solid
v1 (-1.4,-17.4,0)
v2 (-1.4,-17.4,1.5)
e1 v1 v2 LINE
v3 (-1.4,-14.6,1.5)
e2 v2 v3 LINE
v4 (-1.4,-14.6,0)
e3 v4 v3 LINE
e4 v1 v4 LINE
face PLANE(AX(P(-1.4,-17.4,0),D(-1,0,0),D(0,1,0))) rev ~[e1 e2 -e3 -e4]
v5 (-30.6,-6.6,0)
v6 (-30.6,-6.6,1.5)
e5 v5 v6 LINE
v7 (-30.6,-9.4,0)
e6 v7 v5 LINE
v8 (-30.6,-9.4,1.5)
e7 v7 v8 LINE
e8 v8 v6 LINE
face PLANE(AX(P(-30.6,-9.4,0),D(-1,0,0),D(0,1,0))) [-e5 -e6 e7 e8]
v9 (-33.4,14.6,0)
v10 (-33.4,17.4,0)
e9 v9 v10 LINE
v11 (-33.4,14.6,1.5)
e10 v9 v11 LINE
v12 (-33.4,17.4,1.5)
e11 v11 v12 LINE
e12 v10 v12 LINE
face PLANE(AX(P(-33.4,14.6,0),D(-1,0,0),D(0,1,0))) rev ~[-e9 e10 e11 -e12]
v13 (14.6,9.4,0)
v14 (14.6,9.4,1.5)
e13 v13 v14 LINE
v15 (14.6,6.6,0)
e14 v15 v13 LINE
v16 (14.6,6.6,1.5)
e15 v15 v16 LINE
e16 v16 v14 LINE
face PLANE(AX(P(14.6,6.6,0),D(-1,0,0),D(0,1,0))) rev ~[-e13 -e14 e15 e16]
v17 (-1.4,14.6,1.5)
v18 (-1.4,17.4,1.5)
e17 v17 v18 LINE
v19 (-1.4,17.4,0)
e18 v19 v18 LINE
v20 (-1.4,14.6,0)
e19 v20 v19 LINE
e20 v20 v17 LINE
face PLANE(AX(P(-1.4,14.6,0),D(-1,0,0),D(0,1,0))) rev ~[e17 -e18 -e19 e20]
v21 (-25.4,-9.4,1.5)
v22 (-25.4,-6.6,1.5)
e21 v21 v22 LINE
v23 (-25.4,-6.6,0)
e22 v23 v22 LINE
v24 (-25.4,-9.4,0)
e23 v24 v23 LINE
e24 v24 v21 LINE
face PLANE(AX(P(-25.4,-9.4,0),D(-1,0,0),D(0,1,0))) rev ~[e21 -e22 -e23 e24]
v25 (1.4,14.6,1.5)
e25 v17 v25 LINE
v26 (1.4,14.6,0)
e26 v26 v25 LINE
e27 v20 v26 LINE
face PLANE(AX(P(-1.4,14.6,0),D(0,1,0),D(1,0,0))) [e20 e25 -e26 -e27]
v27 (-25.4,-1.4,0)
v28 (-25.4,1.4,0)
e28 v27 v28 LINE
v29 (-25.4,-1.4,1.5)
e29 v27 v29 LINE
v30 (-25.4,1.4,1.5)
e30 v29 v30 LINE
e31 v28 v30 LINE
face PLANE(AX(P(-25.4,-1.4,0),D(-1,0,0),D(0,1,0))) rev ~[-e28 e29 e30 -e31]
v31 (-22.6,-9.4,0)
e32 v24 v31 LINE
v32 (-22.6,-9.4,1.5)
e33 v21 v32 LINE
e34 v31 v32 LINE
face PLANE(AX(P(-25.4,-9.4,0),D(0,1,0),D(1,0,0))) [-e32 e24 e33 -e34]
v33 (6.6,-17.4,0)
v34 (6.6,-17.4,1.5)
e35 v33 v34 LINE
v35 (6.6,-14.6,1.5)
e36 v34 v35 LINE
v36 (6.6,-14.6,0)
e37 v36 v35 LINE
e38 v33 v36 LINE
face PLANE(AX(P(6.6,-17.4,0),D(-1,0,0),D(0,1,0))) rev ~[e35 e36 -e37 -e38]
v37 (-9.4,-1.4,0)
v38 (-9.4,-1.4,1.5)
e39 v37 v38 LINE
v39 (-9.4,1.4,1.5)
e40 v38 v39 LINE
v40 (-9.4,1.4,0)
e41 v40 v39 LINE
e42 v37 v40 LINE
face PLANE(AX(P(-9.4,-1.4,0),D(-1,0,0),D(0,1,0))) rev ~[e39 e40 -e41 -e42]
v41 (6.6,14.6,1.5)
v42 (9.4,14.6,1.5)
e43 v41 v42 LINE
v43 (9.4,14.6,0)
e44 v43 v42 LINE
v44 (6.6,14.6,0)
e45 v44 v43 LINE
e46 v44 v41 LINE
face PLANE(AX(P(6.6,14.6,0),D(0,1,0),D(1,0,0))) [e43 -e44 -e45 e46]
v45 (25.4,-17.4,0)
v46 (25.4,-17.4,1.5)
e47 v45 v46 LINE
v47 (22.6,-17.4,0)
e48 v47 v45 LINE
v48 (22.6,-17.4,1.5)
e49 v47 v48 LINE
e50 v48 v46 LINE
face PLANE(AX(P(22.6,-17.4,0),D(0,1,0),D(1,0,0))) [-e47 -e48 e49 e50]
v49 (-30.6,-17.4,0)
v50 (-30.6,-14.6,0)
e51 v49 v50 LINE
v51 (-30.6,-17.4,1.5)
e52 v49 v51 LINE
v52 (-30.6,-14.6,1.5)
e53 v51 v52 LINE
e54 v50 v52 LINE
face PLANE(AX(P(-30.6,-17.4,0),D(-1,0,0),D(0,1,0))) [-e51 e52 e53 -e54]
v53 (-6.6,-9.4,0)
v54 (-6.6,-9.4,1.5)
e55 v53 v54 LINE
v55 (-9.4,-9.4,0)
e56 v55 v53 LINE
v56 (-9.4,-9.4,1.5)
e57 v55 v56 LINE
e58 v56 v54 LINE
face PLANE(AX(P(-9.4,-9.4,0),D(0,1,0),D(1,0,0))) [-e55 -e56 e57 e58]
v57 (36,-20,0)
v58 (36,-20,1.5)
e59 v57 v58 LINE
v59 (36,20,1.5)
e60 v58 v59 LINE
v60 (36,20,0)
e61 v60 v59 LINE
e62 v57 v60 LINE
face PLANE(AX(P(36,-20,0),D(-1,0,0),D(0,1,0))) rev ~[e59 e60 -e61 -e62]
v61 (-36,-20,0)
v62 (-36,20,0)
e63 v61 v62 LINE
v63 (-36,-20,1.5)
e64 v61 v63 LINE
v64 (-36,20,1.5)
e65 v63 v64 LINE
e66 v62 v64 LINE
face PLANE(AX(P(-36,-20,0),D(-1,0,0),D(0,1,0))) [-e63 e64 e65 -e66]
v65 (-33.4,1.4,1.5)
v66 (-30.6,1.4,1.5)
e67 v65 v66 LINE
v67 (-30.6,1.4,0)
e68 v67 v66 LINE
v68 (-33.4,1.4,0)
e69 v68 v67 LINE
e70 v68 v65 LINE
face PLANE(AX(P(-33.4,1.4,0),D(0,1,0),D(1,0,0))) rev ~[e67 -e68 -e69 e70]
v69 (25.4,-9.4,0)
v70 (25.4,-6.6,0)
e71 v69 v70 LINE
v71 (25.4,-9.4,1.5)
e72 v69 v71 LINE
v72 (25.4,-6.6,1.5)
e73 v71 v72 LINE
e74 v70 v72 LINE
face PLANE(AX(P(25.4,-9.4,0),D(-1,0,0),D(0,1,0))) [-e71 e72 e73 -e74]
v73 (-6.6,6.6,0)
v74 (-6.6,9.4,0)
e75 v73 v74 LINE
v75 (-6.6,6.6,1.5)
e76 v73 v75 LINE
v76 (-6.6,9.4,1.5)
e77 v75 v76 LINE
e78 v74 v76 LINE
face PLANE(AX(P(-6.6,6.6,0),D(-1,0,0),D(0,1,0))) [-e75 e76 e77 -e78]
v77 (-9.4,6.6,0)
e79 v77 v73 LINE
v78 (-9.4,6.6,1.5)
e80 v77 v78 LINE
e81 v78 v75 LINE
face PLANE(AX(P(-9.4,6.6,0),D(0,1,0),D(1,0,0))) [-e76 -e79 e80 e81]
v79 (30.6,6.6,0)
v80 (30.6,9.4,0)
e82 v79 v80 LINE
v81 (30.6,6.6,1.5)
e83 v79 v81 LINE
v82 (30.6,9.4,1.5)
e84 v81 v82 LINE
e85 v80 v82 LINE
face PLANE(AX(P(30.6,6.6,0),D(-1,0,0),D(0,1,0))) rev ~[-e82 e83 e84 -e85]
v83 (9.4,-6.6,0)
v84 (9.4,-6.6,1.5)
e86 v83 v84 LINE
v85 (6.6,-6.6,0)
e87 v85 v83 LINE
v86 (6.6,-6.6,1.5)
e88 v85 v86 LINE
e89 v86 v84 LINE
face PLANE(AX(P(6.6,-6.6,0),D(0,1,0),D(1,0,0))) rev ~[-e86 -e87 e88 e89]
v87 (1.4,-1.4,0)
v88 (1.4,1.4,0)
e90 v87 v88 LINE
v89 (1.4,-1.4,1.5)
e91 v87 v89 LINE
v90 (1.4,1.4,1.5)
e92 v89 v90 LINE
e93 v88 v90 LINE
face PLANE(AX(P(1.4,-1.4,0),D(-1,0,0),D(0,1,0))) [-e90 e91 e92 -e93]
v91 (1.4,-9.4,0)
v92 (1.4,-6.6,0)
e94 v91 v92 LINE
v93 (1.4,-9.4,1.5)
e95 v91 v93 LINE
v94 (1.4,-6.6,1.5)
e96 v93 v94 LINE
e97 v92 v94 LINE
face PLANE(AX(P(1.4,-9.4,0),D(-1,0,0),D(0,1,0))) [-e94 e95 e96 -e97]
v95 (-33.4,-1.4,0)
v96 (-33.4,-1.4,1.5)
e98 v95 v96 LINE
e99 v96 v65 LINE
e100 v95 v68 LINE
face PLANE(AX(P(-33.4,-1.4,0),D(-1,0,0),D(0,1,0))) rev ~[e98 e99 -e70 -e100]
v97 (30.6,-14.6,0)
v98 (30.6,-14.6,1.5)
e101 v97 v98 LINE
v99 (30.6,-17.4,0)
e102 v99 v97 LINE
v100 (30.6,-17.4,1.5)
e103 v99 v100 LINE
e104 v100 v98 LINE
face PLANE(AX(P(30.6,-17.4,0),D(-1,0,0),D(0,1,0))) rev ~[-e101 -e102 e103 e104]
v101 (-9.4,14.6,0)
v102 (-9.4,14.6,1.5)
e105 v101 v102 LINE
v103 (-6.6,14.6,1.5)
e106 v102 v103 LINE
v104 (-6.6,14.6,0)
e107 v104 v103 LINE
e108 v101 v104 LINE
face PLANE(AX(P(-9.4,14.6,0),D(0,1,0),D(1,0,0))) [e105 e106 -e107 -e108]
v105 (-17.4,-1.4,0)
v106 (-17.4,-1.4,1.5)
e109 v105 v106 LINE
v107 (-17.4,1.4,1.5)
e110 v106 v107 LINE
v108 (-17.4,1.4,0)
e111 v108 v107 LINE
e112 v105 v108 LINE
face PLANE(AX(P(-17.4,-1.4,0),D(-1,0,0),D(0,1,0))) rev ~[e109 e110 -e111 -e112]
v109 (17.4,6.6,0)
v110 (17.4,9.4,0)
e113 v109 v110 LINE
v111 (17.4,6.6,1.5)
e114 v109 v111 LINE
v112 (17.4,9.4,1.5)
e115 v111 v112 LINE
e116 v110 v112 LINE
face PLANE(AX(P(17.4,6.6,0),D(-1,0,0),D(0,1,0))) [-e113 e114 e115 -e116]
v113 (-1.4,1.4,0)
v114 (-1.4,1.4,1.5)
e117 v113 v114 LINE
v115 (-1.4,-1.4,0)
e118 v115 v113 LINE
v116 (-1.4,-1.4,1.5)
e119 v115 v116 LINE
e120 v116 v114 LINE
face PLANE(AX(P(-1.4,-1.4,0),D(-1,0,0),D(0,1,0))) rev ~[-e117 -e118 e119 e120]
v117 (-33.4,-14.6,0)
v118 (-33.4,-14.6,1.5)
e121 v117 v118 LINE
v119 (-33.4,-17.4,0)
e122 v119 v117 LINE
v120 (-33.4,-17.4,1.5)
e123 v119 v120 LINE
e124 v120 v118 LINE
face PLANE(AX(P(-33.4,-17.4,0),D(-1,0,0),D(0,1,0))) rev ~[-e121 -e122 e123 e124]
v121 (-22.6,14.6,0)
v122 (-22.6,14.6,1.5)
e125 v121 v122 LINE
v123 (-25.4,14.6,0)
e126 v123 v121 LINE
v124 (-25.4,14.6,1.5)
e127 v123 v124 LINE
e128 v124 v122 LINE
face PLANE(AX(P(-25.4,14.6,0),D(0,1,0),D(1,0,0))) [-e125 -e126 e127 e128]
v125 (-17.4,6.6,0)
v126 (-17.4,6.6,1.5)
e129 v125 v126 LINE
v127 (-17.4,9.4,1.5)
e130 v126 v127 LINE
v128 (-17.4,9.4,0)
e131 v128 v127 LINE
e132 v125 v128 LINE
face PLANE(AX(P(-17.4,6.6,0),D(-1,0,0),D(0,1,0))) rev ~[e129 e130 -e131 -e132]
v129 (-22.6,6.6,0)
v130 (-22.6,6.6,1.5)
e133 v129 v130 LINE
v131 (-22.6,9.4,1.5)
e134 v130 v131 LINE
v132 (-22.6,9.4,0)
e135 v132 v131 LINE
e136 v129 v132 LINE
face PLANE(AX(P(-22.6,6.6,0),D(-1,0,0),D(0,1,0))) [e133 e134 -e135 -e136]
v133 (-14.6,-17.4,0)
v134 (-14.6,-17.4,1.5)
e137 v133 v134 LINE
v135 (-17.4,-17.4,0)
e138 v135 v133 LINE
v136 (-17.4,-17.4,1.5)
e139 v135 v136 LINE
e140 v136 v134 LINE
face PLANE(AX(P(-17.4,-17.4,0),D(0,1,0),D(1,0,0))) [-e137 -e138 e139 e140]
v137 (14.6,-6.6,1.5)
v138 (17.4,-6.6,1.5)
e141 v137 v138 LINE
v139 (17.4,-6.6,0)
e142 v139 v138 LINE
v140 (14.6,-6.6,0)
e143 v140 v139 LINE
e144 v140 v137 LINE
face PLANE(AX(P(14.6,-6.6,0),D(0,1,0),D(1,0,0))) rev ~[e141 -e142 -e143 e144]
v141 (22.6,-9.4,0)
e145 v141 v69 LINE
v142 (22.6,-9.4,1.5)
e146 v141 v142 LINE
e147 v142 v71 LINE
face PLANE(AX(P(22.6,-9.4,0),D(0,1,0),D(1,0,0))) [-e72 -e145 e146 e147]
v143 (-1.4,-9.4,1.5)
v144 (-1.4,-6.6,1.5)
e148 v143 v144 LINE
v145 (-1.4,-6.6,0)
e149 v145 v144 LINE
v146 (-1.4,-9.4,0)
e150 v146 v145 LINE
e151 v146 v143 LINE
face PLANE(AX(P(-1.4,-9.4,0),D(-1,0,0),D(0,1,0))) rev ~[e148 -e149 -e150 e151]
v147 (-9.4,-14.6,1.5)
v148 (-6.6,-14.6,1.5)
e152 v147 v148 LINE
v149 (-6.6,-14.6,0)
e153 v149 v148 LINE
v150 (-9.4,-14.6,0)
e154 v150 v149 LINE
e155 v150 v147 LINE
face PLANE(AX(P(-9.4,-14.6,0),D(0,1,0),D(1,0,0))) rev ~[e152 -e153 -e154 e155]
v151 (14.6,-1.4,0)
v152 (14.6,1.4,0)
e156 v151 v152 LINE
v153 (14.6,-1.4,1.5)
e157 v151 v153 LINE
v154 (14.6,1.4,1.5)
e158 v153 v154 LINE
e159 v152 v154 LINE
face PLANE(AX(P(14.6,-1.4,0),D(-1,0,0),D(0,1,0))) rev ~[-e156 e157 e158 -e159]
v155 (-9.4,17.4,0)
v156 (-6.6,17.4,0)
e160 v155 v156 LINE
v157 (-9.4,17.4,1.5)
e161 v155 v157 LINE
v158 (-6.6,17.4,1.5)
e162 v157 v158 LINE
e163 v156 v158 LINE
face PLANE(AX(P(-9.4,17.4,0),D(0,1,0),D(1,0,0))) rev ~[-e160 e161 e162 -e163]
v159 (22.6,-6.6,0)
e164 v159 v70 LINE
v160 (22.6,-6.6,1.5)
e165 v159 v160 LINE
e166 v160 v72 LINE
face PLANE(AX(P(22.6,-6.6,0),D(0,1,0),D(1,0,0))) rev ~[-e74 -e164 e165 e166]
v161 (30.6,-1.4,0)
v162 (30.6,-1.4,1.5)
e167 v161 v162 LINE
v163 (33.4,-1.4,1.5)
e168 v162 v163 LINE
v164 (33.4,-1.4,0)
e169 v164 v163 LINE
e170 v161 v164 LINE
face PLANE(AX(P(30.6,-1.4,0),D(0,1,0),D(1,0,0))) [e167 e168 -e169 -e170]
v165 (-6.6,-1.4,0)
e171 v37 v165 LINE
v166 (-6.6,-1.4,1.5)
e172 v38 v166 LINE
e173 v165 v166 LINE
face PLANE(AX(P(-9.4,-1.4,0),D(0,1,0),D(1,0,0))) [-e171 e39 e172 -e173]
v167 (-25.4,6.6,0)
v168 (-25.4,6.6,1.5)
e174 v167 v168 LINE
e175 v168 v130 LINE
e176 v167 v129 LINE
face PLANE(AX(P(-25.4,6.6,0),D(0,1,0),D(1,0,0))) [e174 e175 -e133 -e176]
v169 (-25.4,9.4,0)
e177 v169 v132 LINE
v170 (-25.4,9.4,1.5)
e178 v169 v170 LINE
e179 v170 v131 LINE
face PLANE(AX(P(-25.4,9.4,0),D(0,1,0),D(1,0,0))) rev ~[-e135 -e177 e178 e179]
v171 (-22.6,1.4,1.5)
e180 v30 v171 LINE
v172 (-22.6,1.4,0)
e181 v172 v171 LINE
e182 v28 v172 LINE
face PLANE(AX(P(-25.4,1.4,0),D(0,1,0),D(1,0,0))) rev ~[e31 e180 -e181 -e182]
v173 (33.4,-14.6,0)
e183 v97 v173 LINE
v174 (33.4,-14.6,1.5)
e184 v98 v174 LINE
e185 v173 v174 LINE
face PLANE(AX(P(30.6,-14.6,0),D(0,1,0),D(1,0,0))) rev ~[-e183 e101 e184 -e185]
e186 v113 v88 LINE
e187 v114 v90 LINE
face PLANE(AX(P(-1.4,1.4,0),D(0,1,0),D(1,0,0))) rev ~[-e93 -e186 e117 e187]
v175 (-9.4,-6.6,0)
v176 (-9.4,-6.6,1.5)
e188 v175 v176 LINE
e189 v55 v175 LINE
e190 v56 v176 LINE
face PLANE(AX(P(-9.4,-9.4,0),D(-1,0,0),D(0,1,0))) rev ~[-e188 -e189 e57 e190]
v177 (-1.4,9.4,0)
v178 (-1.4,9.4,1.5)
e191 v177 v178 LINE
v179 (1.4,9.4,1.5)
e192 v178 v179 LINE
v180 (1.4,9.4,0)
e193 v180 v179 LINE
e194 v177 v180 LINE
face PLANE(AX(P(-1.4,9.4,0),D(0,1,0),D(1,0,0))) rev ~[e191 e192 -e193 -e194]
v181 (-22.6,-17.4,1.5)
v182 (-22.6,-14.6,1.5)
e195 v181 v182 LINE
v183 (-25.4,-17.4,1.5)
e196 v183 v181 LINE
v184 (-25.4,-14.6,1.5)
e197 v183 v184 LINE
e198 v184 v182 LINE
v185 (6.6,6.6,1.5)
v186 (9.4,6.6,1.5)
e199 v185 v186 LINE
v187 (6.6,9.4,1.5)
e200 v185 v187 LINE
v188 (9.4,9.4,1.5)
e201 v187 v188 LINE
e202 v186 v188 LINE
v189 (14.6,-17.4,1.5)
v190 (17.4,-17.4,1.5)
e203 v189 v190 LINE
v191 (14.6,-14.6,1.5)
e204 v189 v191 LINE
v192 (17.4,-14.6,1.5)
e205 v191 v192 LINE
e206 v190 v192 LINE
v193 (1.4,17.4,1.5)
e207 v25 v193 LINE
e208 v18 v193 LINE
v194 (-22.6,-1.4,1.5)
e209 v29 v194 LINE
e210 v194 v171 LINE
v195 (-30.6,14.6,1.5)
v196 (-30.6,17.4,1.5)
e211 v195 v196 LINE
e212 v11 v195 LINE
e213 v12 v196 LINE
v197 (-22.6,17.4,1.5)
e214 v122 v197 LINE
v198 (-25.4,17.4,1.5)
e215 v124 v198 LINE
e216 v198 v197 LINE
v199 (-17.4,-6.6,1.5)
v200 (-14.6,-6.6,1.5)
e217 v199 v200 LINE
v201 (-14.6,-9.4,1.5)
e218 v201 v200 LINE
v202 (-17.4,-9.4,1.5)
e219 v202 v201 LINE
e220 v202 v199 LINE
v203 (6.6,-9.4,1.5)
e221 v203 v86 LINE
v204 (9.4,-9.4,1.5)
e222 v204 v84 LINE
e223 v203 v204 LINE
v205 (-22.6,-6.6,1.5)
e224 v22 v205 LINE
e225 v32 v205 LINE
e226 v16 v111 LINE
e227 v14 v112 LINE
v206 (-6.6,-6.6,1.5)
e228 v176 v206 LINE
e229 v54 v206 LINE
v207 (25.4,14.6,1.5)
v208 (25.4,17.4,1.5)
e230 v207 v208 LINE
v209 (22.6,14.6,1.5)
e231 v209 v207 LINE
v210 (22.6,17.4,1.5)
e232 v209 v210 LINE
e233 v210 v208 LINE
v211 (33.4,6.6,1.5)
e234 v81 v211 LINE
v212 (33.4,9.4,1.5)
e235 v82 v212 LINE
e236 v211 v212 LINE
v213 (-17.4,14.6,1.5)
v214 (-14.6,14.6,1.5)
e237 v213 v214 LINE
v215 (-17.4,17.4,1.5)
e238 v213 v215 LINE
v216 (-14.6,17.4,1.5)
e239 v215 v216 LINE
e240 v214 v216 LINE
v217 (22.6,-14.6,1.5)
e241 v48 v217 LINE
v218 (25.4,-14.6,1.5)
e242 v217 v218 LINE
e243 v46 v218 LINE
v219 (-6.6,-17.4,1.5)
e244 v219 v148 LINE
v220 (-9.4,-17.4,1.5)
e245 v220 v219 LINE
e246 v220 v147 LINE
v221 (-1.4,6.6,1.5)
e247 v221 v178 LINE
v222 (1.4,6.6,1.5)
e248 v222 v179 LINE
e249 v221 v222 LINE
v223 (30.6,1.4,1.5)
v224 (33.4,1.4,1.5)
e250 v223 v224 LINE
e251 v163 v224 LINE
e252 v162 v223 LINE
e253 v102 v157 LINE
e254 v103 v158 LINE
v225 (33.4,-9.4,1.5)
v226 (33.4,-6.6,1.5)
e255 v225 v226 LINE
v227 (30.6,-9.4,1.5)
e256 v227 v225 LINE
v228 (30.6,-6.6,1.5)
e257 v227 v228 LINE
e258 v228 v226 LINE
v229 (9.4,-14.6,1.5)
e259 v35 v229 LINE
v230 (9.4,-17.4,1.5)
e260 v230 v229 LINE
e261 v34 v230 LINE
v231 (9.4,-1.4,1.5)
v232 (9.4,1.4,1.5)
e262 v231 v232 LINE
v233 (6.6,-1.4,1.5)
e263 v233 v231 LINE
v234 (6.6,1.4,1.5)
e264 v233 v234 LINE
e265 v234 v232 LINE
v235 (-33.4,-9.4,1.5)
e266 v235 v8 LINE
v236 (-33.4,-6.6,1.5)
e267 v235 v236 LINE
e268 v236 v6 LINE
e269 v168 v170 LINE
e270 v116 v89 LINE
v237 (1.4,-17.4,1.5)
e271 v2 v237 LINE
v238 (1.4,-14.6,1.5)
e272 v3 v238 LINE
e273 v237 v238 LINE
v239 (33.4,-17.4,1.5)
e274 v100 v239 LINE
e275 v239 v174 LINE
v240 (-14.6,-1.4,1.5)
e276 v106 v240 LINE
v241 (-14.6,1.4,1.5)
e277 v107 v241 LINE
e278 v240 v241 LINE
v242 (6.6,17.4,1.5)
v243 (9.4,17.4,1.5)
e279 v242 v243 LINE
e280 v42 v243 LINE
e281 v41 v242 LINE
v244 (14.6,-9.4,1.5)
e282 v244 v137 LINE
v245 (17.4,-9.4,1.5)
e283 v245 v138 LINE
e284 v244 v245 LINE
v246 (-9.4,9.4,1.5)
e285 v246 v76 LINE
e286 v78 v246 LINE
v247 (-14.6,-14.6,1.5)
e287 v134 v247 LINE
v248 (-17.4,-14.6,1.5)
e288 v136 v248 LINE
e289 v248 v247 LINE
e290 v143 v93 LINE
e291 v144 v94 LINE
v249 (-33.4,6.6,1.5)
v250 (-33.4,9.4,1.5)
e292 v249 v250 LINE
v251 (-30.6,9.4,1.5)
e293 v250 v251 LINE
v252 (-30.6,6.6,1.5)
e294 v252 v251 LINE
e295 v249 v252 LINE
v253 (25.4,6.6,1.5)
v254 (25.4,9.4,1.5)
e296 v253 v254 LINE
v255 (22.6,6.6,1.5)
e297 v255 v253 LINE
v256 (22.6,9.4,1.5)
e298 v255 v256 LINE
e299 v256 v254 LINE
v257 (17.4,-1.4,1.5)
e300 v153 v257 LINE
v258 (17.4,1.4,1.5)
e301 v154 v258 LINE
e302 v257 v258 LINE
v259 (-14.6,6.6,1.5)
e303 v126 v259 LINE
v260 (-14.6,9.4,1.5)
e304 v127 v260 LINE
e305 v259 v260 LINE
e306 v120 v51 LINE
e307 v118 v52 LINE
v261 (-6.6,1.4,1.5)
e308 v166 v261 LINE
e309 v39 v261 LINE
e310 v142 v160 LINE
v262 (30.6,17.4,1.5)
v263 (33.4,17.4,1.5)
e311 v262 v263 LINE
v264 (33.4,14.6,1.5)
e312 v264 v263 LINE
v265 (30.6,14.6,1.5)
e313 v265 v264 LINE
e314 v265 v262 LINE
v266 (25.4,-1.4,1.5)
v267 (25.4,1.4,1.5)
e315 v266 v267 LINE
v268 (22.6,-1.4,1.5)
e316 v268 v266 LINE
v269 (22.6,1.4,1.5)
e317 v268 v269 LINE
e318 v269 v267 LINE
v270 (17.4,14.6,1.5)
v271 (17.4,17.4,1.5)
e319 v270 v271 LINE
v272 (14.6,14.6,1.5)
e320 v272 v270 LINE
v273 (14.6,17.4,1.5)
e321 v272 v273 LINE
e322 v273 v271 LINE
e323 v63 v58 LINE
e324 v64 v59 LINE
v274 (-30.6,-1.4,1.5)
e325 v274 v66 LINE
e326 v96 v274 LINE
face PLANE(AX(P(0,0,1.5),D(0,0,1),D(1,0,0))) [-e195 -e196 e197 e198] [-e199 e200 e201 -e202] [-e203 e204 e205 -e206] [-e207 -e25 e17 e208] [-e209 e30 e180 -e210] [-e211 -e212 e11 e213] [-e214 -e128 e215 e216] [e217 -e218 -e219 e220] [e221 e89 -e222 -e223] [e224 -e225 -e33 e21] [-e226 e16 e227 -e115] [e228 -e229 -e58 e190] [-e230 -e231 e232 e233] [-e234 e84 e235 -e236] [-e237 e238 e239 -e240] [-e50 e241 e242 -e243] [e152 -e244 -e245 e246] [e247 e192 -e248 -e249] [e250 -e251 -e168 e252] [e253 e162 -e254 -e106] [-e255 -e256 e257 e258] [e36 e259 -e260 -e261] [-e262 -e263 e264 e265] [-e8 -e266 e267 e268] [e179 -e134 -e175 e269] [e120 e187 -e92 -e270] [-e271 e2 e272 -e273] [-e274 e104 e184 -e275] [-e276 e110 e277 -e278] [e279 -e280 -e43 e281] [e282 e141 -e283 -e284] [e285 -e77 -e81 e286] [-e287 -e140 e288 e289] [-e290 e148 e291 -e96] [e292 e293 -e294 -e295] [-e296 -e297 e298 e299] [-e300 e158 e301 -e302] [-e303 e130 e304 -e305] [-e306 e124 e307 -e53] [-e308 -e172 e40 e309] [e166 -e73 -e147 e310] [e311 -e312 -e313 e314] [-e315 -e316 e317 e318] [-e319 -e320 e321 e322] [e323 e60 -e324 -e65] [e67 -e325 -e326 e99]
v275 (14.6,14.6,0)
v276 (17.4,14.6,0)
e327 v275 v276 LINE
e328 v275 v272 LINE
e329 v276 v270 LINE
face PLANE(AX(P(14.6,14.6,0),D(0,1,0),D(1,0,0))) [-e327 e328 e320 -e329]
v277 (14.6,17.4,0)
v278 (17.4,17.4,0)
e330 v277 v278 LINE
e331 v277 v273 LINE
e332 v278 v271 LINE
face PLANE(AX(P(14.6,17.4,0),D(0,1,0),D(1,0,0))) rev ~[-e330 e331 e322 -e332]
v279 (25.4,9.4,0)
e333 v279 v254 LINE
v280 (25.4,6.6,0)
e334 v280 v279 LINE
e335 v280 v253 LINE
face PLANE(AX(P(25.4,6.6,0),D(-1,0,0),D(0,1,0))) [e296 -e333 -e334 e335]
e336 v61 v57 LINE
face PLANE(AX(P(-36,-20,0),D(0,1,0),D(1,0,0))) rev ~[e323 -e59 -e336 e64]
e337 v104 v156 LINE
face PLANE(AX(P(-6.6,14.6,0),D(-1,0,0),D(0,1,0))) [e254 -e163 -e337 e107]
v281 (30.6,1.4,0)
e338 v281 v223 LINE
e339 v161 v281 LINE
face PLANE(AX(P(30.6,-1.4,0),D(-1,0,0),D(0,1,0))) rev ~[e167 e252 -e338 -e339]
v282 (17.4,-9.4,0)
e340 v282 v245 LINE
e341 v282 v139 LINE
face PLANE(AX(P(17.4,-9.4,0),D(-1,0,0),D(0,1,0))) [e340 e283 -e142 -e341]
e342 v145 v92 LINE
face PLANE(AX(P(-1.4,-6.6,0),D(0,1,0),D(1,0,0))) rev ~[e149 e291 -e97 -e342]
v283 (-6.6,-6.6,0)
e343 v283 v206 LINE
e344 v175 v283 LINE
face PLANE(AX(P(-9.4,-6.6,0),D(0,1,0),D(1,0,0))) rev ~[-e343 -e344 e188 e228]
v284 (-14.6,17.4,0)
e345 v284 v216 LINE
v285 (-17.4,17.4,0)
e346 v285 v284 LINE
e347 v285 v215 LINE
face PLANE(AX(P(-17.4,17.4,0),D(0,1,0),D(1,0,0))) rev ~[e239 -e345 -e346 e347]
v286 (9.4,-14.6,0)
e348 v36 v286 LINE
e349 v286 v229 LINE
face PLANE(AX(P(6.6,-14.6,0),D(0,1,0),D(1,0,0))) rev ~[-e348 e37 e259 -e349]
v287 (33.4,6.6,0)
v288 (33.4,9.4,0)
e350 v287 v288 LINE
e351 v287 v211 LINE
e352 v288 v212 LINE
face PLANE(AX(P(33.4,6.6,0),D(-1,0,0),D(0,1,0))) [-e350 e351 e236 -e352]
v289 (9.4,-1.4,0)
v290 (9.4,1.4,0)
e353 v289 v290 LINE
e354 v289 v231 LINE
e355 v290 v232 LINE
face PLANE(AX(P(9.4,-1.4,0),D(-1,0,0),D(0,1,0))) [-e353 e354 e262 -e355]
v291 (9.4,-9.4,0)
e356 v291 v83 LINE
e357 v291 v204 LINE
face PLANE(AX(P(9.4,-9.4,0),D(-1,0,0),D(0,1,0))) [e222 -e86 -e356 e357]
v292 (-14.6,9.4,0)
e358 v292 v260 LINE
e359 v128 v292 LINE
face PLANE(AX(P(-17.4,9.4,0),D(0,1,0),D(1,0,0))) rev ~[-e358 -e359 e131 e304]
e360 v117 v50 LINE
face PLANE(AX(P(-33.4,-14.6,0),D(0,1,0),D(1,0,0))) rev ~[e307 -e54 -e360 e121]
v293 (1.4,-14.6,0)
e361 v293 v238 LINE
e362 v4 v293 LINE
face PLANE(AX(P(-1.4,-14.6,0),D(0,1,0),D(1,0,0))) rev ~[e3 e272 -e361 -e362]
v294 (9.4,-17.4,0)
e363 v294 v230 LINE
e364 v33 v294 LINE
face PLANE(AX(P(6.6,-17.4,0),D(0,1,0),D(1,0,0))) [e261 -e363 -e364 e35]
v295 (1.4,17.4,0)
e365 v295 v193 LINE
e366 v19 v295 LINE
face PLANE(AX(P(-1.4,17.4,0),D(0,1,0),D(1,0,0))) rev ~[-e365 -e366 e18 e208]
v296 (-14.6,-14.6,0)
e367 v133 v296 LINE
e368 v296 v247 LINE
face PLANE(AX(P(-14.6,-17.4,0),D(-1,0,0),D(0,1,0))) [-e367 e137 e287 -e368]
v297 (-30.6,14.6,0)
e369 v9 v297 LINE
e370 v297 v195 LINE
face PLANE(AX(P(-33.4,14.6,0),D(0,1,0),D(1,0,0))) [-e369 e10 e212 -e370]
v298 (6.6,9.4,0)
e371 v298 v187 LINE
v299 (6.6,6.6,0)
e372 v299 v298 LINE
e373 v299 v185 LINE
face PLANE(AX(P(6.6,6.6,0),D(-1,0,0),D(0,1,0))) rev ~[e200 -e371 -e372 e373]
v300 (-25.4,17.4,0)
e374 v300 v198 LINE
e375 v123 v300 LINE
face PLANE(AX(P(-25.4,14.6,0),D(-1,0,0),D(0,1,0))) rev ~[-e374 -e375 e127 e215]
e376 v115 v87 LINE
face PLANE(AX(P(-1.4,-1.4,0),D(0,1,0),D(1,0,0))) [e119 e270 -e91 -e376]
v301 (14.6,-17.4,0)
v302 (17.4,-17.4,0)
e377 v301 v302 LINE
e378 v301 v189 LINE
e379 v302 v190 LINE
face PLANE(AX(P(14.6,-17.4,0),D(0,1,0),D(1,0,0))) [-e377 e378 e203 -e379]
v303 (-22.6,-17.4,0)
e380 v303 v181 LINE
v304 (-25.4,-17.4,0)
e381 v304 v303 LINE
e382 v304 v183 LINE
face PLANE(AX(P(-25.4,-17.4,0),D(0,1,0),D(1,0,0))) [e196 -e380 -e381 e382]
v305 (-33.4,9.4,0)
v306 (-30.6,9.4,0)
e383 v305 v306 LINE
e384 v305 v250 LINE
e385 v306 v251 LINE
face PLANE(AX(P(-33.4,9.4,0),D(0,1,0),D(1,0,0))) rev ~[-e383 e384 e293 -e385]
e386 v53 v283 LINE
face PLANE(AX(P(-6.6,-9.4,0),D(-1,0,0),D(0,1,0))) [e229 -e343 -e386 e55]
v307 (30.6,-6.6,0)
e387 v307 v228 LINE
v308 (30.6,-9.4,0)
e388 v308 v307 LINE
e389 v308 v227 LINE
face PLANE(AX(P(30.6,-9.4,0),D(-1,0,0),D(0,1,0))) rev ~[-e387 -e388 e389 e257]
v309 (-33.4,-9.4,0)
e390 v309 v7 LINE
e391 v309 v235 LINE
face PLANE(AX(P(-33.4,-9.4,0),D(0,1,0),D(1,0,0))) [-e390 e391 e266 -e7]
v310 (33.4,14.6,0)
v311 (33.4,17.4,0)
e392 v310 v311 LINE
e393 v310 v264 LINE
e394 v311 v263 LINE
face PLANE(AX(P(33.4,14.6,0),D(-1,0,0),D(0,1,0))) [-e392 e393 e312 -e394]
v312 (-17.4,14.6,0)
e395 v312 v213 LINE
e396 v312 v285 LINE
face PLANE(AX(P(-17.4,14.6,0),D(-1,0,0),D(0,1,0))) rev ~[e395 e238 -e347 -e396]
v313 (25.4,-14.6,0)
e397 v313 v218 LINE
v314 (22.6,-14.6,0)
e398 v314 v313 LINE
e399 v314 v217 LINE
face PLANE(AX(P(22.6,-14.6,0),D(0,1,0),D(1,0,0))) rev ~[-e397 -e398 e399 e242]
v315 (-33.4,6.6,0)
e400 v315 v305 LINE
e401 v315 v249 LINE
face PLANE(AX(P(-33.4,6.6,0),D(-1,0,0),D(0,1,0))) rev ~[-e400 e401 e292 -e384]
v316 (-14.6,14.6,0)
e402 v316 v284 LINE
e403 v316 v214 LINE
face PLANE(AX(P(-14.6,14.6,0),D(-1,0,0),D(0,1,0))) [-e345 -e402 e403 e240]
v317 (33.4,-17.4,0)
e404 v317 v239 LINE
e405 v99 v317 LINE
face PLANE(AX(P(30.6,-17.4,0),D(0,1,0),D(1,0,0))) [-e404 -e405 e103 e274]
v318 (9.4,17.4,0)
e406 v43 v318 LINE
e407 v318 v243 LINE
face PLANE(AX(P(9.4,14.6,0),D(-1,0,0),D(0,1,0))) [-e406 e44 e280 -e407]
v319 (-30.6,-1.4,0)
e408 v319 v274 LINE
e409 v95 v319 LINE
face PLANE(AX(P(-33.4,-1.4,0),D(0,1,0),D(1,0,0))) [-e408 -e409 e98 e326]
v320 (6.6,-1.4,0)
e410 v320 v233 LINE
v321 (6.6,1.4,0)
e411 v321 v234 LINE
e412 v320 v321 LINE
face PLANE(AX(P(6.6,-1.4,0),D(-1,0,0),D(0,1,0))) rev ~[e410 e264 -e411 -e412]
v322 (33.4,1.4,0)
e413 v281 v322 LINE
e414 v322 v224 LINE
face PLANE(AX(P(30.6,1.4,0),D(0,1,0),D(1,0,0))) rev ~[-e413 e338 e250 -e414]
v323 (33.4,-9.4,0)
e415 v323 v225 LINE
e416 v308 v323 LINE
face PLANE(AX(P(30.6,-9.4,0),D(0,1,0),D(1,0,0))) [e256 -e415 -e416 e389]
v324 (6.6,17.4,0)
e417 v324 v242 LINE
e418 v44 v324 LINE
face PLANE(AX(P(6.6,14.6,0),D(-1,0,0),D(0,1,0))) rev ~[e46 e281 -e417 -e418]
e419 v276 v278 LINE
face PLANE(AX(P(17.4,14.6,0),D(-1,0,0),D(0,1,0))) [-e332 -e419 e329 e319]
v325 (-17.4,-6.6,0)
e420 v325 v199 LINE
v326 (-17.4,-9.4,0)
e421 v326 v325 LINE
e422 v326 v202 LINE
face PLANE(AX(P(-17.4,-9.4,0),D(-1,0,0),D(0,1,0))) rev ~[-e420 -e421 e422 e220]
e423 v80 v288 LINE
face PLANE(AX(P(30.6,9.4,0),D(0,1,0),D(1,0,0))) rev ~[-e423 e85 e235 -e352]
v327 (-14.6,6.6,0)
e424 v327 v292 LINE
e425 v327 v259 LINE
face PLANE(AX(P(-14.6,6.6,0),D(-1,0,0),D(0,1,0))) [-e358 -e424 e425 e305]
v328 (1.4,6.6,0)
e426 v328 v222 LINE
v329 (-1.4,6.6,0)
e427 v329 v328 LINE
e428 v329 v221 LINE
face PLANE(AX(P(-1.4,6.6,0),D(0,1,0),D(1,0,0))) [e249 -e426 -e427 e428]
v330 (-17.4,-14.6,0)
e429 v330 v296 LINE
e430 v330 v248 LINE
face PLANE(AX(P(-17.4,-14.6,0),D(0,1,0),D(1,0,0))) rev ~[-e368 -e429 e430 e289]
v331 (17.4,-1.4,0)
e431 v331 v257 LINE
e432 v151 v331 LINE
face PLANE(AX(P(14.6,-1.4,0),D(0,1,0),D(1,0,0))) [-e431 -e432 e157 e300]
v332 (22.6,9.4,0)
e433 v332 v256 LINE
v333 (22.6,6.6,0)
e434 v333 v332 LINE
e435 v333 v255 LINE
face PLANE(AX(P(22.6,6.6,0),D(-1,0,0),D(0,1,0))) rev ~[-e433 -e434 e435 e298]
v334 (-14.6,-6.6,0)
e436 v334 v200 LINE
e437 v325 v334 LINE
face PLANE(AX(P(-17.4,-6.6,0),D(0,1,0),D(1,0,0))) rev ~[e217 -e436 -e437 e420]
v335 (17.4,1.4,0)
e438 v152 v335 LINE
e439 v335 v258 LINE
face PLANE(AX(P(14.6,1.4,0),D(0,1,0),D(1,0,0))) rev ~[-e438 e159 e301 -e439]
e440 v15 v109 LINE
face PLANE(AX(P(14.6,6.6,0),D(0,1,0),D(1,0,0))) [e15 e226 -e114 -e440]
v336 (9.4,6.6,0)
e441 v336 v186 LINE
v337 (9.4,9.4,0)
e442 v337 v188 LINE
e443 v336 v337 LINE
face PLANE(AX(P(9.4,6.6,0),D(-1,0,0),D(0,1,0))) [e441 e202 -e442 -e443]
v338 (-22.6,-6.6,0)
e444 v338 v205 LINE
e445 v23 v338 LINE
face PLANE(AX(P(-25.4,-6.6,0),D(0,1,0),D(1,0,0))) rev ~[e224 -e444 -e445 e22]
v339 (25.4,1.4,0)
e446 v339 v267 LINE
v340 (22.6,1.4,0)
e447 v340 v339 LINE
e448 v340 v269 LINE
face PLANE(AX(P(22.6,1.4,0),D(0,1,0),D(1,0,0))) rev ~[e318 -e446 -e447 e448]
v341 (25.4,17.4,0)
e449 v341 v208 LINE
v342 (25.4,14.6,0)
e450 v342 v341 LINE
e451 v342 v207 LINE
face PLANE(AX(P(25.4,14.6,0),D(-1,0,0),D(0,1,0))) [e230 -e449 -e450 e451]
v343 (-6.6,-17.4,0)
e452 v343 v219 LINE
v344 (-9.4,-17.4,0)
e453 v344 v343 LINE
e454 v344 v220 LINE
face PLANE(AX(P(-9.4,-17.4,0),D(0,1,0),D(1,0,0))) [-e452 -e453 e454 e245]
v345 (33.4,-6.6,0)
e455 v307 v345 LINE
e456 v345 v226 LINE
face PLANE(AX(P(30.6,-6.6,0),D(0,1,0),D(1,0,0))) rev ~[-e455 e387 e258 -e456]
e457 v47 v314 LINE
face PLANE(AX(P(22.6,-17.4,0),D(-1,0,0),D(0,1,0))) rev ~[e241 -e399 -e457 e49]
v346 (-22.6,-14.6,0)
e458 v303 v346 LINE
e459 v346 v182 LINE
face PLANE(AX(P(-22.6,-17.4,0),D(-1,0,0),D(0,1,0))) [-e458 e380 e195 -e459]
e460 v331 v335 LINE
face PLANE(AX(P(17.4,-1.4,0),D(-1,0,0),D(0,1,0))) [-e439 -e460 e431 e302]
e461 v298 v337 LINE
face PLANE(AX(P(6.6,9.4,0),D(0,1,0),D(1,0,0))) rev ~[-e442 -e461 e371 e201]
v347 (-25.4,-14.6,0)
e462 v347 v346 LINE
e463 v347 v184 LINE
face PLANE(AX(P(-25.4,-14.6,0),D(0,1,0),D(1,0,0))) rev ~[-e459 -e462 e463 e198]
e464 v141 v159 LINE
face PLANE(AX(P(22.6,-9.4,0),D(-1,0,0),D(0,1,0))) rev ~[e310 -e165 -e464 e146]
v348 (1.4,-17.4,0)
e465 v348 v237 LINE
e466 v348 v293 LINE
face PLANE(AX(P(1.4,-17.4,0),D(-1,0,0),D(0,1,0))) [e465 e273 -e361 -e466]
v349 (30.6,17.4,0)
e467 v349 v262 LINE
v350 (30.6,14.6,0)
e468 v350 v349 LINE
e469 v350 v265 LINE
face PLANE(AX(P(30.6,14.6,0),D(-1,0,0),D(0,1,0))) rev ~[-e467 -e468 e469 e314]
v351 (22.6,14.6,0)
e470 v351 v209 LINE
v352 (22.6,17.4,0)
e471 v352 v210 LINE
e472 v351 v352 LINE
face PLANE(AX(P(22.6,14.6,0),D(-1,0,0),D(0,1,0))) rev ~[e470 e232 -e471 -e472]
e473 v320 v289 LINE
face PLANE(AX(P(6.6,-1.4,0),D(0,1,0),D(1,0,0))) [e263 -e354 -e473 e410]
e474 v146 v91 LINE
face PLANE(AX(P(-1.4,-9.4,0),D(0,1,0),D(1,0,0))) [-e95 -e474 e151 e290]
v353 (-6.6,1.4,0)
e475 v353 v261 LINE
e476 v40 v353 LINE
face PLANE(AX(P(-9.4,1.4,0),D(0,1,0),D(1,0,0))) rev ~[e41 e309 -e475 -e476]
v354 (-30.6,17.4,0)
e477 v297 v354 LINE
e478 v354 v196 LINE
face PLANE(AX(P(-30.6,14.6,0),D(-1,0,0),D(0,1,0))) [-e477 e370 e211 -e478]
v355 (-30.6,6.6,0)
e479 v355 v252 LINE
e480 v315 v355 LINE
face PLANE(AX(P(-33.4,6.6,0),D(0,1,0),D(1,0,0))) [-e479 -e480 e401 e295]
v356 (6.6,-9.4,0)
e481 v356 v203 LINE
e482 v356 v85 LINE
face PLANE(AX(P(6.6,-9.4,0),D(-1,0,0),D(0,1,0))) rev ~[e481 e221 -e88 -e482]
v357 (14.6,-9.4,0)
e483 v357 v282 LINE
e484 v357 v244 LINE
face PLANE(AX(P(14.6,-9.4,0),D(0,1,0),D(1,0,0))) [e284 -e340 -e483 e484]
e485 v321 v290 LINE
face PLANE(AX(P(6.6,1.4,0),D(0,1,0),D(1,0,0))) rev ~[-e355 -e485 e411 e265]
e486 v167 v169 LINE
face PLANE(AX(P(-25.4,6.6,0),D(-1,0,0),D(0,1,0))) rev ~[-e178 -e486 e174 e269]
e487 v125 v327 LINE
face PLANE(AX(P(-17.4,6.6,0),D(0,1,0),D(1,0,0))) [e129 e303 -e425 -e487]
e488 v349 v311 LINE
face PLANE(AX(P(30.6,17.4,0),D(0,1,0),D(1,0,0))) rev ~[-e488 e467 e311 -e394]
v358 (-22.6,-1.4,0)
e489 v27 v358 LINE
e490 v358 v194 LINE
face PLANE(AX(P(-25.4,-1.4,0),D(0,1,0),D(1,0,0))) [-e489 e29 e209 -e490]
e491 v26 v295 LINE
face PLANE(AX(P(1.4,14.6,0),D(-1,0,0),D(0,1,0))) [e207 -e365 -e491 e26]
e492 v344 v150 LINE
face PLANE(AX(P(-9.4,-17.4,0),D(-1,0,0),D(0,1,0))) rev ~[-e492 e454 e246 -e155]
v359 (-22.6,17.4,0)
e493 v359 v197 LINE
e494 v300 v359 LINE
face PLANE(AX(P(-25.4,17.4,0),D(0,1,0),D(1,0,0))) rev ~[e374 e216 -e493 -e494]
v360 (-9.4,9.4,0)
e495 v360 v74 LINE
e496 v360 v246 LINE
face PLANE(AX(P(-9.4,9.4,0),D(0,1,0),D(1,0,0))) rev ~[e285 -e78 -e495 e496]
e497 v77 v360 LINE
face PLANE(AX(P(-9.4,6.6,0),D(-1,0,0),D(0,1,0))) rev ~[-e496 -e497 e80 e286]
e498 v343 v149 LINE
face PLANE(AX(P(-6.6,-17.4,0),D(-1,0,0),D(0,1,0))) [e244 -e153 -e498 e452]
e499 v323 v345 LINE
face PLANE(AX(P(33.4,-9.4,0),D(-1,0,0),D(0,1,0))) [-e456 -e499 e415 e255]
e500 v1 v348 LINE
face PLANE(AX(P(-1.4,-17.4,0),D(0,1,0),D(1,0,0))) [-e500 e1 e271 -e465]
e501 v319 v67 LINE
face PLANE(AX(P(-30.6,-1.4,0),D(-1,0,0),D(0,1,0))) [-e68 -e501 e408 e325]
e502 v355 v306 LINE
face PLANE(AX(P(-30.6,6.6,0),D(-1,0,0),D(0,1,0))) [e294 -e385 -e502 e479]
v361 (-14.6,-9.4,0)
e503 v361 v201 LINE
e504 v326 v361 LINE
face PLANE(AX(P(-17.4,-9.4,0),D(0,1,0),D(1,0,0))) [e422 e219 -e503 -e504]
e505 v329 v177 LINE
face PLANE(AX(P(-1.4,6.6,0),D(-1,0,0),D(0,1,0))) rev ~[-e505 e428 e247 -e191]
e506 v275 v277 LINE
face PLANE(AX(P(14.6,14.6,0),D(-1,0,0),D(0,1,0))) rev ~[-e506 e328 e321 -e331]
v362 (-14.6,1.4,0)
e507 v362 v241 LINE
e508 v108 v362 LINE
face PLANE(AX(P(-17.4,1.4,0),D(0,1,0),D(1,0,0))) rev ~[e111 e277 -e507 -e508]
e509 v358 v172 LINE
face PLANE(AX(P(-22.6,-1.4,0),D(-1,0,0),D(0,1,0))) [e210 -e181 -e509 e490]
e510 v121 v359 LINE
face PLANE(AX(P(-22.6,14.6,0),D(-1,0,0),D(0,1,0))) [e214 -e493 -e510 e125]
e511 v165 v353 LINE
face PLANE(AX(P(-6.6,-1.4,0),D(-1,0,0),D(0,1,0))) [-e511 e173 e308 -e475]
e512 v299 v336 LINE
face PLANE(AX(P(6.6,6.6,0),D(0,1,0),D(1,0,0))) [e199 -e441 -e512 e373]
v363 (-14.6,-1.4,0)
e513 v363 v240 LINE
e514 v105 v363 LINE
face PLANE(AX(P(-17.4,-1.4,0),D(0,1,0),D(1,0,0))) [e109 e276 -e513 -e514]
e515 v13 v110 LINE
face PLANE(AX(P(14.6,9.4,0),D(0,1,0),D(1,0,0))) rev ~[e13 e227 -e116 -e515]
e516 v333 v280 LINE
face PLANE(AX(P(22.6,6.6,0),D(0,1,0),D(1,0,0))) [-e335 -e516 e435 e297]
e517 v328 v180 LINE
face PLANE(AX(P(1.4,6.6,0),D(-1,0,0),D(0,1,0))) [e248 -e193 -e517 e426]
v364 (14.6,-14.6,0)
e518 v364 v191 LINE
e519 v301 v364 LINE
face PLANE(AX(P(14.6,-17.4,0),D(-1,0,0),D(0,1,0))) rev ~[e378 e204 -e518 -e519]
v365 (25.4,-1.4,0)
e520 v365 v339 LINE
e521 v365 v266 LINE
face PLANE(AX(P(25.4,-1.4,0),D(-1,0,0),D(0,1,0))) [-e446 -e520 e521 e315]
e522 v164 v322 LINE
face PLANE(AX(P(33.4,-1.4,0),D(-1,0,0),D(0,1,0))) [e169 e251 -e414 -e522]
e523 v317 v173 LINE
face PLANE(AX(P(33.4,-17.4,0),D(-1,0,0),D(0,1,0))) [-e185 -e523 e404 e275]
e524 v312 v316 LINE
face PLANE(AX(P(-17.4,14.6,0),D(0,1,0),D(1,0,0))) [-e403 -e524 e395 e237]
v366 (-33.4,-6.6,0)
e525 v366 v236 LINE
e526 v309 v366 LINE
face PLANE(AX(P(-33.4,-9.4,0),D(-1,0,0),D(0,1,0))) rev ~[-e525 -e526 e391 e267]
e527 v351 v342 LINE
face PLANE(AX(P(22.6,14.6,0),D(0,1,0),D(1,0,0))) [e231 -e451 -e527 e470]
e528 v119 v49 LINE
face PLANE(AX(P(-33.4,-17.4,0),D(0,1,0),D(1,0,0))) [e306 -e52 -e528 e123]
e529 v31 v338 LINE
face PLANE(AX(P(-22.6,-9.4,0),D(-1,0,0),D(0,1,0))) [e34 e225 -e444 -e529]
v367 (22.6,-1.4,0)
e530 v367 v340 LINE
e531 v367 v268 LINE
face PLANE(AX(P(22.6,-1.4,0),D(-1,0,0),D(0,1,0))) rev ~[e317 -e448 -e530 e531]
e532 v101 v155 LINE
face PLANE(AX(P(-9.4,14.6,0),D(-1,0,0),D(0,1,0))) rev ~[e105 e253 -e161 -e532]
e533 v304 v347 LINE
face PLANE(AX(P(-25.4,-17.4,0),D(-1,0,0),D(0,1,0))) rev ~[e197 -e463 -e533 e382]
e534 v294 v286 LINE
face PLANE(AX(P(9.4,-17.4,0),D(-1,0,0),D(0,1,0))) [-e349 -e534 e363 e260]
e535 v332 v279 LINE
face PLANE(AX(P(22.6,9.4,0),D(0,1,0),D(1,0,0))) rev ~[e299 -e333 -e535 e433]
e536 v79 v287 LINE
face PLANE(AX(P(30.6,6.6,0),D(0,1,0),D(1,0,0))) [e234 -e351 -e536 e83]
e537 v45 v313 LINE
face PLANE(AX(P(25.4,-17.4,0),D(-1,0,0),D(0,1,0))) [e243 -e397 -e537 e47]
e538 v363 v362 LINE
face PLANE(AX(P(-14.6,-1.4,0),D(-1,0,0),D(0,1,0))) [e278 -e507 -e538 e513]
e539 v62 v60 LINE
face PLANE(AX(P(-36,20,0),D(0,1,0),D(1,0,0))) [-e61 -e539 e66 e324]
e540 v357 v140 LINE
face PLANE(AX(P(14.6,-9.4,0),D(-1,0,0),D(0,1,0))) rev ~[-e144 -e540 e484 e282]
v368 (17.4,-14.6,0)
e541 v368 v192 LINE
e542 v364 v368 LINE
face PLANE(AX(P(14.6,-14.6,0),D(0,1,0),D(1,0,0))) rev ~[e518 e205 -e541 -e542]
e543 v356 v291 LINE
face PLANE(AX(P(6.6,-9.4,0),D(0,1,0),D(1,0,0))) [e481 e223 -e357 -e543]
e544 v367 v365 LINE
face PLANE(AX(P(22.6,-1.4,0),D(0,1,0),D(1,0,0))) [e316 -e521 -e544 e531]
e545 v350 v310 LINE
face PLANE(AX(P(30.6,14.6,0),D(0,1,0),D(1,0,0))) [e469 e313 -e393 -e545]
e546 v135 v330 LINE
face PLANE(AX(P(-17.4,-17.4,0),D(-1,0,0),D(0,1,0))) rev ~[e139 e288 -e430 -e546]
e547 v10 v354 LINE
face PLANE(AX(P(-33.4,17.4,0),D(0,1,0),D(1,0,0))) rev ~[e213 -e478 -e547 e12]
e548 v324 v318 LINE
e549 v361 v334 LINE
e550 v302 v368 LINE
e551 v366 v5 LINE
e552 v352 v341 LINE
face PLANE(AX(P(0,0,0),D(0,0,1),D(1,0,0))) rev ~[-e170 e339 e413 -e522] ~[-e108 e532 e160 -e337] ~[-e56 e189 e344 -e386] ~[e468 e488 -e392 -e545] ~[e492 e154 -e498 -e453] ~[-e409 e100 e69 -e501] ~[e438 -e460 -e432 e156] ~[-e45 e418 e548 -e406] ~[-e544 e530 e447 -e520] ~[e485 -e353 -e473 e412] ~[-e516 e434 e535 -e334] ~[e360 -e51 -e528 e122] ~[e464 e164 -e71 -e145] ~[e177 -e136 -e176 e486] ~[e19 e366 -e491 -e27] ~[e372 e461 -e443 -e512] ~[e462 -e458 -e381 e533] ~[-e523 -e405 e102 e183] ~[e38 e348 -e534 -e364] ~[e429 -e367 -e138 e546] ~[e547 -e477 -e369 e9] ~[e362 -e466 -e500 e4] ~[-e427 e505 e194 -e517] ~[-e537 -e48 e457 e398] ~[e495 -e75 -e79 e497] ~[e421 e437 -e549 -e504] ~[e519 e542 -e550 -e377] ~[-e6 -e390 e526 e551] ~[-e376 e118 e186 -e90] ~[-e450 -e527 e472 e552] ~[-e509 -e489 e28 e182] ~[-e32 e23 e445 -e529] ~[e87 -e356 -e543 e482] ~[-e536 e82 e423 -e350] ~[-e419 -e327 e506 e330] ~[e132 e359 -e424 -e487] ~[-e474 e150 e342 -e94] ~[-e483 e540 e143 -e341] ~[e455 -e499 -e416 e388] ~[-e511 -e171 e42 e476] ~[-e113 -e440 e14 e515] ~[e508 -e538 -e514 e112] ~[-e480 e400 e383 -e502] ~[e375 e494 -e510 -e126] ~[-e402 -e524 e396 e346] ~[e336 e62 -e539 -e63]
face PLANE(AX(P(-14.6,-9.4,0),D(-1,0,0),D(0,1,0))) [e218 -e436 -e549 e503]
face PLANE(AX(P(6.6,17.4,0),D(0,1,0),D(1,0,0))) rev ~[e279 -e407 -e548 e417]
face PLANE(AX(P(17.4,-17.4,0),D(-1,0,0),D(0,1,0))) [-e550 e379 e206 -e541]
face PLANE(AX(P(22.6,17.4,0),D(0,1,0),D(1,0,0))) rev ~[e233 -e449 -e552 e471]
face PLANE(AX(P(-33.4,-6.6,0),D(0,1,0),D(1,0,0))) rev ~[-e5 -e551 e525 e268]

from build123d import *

# Parameters (mm, degrees)
ESBO_O1_W                = 72
ESBO_O1_H                = 40
ESBO_O1_W_2              = 2.8
ESBO_O1_H_2              = 2.8
RESSALTO_EXTRUS_O1_DEPTH = 1.5


with BuildPart() as part:
    # Esboço1 → Ressalto-extrusão1 (new body)
    with BuildSketch(Plane.XY):
        Rectangle(ESBO_O1_W, ESBO_O1_H)
        with Locations((-32, 16)):
            Rectangle(ESBO_O1_W_2, ESBO_O1_H_2, mode=Mode.SUBTRACT)
        with Locations((-24, 16)):
            Rectangle(ESBO_O1_W_2, ESBO_O1_H_2, mode=Mode.SUBTRACT)
        with Locations((-24, 8)):
            Rectangle(ESBO_O1_W_2, ESBO_O1_H_2, mode=Mode.SUBTRACT)
        with Locations((32, 16)):
            Rectangle(ESBO_O1_W_2, ESBO_O1_H_2, mode=Mode.SUBTRACT)
        with Locations((-32, 8)):
            Rectangle(ESBO_O1_W_2, ESBO_O1_H_2, mode=Mode.SUBTRACT)
        with Locations((32, 8)):
            Rectangle(ESBO_O1_W_2, ESBO_O1_H_2, mode=Mode.SUBTRACT)
        with Locations((-32, 0)):
            Rectangle(ESBO_O1_W_2, ESBO_O1_H_2, mode=Mode.SUBTRACT)
        with Locations((32, 0)):
            Rectangle(ESBO_O1_W_2, ESBO_O1_H_2, mode=Mode.SUBTRACT)
        with Locations((-32, -8)):
            Rectangle(ESBO_O1_W_2, ESBO_O1_H_2, mode=Mode.SUBTRACT)
        with Locations((32, -8)):
            Rectangle(ESBO_O1_W_2, ESBO_O1_H_2, mode=Mode.SUBTRACT)
        with Locations((-32, -16)):
            Rectangle(ESBO_O1_W_2, ESBO_O1_H_2, mode=Mode.SUBTRACT)
        with Locations((32, -16)):
            Rectangle(ESBO_O1_W_2, ESBO_O1_H_2, mode=Mode.SUBTRACT)
        with Locations((-24, 0)):
            Rectangle(ESBO_O1_W_2, ESBO_O1_H_2, mode=Mode.SUBTRACT)
        with Locations((-24, -8)):
            Rectangle(ESBO_O1_W_2, ESBO_O1_H_2, mode=Mode.SUBTRACT)
        with Locations((-24, -16)):
            Rectangle(ESBO_O1_W_2, ESBO_O1_H_2, mode=Mode.SUBTRACT)
        with Locations((-16, 16)):
            Rectangle(ESBO_O1_W_2, ESBO_O1_H_2, mode=Mode.SUBTRACT)
        with Locations((-16, 8)):
            Rectangle(ESBO_O1_W_2, ESBO_O1_H_2, mode=Mode.SUBTRACT)
        with Locations((-16, 0)):
            Rectangle(ESBO_O1_W_2, ESBO_O1_H_2, mode=Mode.SUBTRACT)
        with Locations((-16, -8)):
            Rectangle(ESBO_O1_W_2, ESBO_O1_H_2, mode=Mode.SUBTRACT)
        with Locations((-16, -16)):
            Rectangle(ESBO_O1_W_2, ESBO_O1_H_2, mode=Mode.SUBTRACT)
        with Locations((-8, 16)):
            Rectangle(ESBO_O1_W_2, ESBO_O1_H_2, mode=Mode.SUBTRACT)
        with Locations((-8, 8)):
            Rectangle(ESBO_O1_W_2, ESBO_O1_H_2, mode=Mode.SUBTRACT)
        with Locations((-8, 0)):
            Rectangle(ESBO_O1_W_2, ESBO_O1_H_2, mode=Mode.SUBTRACT)
        with Locations((-8, -8)):
            Rectangle(ESBO_O1_W_2, ESBO_O1_H_2, mode=Mode.SUBTRACT)
        with Locations((-8, -16)):
            Rectangle(ESBO_O1_W_2, ESBO_O1_H_2, mode=Mode.SUBTRACT)
        with Locations((0, 16)):
            Rectangle(ESBO_O1_W_2, ESBO_O1_H_2, mode=Mode.SUBTRACT)
        with Locations((0, 8)):
            Rectangle(ESBO_O1_W_2, ESBO_O1_H_2, mode=Mode.SUBTRACT)
        Rectangle(ESBO_O1_W_2, ESBO_O1_H_2, mode=Mode.SUBTRACT)
        with Locations((0, -8)):
            Rectangle(ESBO_O1_W_2, ESBO_O1_H_2, mode=Mode.SUBTRACT)
        with Locations((0, -16)):
            Rectangle(ESBO_O1_W_2, ESBO_O1_H_2, mode=Mode.SUBTRACT)
        with Locations((8, 16)):
            Rectangle(ESBO_O1_W_2, ESBO_O1_H_2, mode=Mode.SUBTRACT)
        with Locations((8, 8)):
            Rectangle(ESBO_O1_W_2, ESBO_O1_H_2, mode=Mode.SUBTRACT)
        with Locations((8, 0)):
            Rectangle(ESBO_O1_W_2, ESBO_O1_H_2, mode=Mode.SUBTRACT)
        with Locations((8, -8)):
            Rectangle(ESBO_O1_W_2, ESBO_O1_H_2, mode=Mode.SUBTRACT)
        with Locations((8, -16)):
            Rectangle(ESBO_O1_W_2, ESBO_O1_H_2, mode=Mode.SUBTRACT)
        with Locations((16, 16)):
            Rectangle(ESBO_O1_W_2, ESBO_O1_H_2, mode=Mode.SUBTRACT)
        with Locations((16, 8)):
            Rectangle(ESBO_O1_W_2, ESBO_O1_H_2, mode=Mode.SUBTRACT)
        with Locations((16, 0)):
            Rectangle(ESBO_O1_W_2, ESBO_O1_H_2, mode=Mode.SUBTRACT)
        with Locations((16, -8)):
            Rectangle(ESBO_O1_W_2, ESBO_O1_H_2, mode=Mode.SUBTRACT)
        with Locations((16, -16)):
            Rectangle(ESBO_O1_W_2, ESBO_O1_H_2, mode=Mode.SUBTRACT)
        with Locations((24, 16)):
            Rectangle(ESBO_O1_W_2, ESBO_O1_H_2, mode=Mode.SUBTRACT)
        with Locations((24, 8)):
            Rectangle(ESBO_O1_W_2, ESBO_O1_H_2, mode=Mode.SUBTRACT)
        with Locations((24, 0)):
            Rectangle(ESBO_O1_W_2, ESBO_O1_H_2, mode=Mode.SUBTRACT)
        with Locations((24, -8)):
            Rectangle(ESBO_O1_W_2, ESBO_O1_H_2, mode=Mode.SUBTRACT)
        with Locations((24, -16)):
            Rectangle(ESBO_O1_W_2, ESBO_O1_H_2, mode=Mode.SUBTRACT)
    extrude(amount=RESSALTO_EXTRUS_O1_DEPTH)


solid = part.part
